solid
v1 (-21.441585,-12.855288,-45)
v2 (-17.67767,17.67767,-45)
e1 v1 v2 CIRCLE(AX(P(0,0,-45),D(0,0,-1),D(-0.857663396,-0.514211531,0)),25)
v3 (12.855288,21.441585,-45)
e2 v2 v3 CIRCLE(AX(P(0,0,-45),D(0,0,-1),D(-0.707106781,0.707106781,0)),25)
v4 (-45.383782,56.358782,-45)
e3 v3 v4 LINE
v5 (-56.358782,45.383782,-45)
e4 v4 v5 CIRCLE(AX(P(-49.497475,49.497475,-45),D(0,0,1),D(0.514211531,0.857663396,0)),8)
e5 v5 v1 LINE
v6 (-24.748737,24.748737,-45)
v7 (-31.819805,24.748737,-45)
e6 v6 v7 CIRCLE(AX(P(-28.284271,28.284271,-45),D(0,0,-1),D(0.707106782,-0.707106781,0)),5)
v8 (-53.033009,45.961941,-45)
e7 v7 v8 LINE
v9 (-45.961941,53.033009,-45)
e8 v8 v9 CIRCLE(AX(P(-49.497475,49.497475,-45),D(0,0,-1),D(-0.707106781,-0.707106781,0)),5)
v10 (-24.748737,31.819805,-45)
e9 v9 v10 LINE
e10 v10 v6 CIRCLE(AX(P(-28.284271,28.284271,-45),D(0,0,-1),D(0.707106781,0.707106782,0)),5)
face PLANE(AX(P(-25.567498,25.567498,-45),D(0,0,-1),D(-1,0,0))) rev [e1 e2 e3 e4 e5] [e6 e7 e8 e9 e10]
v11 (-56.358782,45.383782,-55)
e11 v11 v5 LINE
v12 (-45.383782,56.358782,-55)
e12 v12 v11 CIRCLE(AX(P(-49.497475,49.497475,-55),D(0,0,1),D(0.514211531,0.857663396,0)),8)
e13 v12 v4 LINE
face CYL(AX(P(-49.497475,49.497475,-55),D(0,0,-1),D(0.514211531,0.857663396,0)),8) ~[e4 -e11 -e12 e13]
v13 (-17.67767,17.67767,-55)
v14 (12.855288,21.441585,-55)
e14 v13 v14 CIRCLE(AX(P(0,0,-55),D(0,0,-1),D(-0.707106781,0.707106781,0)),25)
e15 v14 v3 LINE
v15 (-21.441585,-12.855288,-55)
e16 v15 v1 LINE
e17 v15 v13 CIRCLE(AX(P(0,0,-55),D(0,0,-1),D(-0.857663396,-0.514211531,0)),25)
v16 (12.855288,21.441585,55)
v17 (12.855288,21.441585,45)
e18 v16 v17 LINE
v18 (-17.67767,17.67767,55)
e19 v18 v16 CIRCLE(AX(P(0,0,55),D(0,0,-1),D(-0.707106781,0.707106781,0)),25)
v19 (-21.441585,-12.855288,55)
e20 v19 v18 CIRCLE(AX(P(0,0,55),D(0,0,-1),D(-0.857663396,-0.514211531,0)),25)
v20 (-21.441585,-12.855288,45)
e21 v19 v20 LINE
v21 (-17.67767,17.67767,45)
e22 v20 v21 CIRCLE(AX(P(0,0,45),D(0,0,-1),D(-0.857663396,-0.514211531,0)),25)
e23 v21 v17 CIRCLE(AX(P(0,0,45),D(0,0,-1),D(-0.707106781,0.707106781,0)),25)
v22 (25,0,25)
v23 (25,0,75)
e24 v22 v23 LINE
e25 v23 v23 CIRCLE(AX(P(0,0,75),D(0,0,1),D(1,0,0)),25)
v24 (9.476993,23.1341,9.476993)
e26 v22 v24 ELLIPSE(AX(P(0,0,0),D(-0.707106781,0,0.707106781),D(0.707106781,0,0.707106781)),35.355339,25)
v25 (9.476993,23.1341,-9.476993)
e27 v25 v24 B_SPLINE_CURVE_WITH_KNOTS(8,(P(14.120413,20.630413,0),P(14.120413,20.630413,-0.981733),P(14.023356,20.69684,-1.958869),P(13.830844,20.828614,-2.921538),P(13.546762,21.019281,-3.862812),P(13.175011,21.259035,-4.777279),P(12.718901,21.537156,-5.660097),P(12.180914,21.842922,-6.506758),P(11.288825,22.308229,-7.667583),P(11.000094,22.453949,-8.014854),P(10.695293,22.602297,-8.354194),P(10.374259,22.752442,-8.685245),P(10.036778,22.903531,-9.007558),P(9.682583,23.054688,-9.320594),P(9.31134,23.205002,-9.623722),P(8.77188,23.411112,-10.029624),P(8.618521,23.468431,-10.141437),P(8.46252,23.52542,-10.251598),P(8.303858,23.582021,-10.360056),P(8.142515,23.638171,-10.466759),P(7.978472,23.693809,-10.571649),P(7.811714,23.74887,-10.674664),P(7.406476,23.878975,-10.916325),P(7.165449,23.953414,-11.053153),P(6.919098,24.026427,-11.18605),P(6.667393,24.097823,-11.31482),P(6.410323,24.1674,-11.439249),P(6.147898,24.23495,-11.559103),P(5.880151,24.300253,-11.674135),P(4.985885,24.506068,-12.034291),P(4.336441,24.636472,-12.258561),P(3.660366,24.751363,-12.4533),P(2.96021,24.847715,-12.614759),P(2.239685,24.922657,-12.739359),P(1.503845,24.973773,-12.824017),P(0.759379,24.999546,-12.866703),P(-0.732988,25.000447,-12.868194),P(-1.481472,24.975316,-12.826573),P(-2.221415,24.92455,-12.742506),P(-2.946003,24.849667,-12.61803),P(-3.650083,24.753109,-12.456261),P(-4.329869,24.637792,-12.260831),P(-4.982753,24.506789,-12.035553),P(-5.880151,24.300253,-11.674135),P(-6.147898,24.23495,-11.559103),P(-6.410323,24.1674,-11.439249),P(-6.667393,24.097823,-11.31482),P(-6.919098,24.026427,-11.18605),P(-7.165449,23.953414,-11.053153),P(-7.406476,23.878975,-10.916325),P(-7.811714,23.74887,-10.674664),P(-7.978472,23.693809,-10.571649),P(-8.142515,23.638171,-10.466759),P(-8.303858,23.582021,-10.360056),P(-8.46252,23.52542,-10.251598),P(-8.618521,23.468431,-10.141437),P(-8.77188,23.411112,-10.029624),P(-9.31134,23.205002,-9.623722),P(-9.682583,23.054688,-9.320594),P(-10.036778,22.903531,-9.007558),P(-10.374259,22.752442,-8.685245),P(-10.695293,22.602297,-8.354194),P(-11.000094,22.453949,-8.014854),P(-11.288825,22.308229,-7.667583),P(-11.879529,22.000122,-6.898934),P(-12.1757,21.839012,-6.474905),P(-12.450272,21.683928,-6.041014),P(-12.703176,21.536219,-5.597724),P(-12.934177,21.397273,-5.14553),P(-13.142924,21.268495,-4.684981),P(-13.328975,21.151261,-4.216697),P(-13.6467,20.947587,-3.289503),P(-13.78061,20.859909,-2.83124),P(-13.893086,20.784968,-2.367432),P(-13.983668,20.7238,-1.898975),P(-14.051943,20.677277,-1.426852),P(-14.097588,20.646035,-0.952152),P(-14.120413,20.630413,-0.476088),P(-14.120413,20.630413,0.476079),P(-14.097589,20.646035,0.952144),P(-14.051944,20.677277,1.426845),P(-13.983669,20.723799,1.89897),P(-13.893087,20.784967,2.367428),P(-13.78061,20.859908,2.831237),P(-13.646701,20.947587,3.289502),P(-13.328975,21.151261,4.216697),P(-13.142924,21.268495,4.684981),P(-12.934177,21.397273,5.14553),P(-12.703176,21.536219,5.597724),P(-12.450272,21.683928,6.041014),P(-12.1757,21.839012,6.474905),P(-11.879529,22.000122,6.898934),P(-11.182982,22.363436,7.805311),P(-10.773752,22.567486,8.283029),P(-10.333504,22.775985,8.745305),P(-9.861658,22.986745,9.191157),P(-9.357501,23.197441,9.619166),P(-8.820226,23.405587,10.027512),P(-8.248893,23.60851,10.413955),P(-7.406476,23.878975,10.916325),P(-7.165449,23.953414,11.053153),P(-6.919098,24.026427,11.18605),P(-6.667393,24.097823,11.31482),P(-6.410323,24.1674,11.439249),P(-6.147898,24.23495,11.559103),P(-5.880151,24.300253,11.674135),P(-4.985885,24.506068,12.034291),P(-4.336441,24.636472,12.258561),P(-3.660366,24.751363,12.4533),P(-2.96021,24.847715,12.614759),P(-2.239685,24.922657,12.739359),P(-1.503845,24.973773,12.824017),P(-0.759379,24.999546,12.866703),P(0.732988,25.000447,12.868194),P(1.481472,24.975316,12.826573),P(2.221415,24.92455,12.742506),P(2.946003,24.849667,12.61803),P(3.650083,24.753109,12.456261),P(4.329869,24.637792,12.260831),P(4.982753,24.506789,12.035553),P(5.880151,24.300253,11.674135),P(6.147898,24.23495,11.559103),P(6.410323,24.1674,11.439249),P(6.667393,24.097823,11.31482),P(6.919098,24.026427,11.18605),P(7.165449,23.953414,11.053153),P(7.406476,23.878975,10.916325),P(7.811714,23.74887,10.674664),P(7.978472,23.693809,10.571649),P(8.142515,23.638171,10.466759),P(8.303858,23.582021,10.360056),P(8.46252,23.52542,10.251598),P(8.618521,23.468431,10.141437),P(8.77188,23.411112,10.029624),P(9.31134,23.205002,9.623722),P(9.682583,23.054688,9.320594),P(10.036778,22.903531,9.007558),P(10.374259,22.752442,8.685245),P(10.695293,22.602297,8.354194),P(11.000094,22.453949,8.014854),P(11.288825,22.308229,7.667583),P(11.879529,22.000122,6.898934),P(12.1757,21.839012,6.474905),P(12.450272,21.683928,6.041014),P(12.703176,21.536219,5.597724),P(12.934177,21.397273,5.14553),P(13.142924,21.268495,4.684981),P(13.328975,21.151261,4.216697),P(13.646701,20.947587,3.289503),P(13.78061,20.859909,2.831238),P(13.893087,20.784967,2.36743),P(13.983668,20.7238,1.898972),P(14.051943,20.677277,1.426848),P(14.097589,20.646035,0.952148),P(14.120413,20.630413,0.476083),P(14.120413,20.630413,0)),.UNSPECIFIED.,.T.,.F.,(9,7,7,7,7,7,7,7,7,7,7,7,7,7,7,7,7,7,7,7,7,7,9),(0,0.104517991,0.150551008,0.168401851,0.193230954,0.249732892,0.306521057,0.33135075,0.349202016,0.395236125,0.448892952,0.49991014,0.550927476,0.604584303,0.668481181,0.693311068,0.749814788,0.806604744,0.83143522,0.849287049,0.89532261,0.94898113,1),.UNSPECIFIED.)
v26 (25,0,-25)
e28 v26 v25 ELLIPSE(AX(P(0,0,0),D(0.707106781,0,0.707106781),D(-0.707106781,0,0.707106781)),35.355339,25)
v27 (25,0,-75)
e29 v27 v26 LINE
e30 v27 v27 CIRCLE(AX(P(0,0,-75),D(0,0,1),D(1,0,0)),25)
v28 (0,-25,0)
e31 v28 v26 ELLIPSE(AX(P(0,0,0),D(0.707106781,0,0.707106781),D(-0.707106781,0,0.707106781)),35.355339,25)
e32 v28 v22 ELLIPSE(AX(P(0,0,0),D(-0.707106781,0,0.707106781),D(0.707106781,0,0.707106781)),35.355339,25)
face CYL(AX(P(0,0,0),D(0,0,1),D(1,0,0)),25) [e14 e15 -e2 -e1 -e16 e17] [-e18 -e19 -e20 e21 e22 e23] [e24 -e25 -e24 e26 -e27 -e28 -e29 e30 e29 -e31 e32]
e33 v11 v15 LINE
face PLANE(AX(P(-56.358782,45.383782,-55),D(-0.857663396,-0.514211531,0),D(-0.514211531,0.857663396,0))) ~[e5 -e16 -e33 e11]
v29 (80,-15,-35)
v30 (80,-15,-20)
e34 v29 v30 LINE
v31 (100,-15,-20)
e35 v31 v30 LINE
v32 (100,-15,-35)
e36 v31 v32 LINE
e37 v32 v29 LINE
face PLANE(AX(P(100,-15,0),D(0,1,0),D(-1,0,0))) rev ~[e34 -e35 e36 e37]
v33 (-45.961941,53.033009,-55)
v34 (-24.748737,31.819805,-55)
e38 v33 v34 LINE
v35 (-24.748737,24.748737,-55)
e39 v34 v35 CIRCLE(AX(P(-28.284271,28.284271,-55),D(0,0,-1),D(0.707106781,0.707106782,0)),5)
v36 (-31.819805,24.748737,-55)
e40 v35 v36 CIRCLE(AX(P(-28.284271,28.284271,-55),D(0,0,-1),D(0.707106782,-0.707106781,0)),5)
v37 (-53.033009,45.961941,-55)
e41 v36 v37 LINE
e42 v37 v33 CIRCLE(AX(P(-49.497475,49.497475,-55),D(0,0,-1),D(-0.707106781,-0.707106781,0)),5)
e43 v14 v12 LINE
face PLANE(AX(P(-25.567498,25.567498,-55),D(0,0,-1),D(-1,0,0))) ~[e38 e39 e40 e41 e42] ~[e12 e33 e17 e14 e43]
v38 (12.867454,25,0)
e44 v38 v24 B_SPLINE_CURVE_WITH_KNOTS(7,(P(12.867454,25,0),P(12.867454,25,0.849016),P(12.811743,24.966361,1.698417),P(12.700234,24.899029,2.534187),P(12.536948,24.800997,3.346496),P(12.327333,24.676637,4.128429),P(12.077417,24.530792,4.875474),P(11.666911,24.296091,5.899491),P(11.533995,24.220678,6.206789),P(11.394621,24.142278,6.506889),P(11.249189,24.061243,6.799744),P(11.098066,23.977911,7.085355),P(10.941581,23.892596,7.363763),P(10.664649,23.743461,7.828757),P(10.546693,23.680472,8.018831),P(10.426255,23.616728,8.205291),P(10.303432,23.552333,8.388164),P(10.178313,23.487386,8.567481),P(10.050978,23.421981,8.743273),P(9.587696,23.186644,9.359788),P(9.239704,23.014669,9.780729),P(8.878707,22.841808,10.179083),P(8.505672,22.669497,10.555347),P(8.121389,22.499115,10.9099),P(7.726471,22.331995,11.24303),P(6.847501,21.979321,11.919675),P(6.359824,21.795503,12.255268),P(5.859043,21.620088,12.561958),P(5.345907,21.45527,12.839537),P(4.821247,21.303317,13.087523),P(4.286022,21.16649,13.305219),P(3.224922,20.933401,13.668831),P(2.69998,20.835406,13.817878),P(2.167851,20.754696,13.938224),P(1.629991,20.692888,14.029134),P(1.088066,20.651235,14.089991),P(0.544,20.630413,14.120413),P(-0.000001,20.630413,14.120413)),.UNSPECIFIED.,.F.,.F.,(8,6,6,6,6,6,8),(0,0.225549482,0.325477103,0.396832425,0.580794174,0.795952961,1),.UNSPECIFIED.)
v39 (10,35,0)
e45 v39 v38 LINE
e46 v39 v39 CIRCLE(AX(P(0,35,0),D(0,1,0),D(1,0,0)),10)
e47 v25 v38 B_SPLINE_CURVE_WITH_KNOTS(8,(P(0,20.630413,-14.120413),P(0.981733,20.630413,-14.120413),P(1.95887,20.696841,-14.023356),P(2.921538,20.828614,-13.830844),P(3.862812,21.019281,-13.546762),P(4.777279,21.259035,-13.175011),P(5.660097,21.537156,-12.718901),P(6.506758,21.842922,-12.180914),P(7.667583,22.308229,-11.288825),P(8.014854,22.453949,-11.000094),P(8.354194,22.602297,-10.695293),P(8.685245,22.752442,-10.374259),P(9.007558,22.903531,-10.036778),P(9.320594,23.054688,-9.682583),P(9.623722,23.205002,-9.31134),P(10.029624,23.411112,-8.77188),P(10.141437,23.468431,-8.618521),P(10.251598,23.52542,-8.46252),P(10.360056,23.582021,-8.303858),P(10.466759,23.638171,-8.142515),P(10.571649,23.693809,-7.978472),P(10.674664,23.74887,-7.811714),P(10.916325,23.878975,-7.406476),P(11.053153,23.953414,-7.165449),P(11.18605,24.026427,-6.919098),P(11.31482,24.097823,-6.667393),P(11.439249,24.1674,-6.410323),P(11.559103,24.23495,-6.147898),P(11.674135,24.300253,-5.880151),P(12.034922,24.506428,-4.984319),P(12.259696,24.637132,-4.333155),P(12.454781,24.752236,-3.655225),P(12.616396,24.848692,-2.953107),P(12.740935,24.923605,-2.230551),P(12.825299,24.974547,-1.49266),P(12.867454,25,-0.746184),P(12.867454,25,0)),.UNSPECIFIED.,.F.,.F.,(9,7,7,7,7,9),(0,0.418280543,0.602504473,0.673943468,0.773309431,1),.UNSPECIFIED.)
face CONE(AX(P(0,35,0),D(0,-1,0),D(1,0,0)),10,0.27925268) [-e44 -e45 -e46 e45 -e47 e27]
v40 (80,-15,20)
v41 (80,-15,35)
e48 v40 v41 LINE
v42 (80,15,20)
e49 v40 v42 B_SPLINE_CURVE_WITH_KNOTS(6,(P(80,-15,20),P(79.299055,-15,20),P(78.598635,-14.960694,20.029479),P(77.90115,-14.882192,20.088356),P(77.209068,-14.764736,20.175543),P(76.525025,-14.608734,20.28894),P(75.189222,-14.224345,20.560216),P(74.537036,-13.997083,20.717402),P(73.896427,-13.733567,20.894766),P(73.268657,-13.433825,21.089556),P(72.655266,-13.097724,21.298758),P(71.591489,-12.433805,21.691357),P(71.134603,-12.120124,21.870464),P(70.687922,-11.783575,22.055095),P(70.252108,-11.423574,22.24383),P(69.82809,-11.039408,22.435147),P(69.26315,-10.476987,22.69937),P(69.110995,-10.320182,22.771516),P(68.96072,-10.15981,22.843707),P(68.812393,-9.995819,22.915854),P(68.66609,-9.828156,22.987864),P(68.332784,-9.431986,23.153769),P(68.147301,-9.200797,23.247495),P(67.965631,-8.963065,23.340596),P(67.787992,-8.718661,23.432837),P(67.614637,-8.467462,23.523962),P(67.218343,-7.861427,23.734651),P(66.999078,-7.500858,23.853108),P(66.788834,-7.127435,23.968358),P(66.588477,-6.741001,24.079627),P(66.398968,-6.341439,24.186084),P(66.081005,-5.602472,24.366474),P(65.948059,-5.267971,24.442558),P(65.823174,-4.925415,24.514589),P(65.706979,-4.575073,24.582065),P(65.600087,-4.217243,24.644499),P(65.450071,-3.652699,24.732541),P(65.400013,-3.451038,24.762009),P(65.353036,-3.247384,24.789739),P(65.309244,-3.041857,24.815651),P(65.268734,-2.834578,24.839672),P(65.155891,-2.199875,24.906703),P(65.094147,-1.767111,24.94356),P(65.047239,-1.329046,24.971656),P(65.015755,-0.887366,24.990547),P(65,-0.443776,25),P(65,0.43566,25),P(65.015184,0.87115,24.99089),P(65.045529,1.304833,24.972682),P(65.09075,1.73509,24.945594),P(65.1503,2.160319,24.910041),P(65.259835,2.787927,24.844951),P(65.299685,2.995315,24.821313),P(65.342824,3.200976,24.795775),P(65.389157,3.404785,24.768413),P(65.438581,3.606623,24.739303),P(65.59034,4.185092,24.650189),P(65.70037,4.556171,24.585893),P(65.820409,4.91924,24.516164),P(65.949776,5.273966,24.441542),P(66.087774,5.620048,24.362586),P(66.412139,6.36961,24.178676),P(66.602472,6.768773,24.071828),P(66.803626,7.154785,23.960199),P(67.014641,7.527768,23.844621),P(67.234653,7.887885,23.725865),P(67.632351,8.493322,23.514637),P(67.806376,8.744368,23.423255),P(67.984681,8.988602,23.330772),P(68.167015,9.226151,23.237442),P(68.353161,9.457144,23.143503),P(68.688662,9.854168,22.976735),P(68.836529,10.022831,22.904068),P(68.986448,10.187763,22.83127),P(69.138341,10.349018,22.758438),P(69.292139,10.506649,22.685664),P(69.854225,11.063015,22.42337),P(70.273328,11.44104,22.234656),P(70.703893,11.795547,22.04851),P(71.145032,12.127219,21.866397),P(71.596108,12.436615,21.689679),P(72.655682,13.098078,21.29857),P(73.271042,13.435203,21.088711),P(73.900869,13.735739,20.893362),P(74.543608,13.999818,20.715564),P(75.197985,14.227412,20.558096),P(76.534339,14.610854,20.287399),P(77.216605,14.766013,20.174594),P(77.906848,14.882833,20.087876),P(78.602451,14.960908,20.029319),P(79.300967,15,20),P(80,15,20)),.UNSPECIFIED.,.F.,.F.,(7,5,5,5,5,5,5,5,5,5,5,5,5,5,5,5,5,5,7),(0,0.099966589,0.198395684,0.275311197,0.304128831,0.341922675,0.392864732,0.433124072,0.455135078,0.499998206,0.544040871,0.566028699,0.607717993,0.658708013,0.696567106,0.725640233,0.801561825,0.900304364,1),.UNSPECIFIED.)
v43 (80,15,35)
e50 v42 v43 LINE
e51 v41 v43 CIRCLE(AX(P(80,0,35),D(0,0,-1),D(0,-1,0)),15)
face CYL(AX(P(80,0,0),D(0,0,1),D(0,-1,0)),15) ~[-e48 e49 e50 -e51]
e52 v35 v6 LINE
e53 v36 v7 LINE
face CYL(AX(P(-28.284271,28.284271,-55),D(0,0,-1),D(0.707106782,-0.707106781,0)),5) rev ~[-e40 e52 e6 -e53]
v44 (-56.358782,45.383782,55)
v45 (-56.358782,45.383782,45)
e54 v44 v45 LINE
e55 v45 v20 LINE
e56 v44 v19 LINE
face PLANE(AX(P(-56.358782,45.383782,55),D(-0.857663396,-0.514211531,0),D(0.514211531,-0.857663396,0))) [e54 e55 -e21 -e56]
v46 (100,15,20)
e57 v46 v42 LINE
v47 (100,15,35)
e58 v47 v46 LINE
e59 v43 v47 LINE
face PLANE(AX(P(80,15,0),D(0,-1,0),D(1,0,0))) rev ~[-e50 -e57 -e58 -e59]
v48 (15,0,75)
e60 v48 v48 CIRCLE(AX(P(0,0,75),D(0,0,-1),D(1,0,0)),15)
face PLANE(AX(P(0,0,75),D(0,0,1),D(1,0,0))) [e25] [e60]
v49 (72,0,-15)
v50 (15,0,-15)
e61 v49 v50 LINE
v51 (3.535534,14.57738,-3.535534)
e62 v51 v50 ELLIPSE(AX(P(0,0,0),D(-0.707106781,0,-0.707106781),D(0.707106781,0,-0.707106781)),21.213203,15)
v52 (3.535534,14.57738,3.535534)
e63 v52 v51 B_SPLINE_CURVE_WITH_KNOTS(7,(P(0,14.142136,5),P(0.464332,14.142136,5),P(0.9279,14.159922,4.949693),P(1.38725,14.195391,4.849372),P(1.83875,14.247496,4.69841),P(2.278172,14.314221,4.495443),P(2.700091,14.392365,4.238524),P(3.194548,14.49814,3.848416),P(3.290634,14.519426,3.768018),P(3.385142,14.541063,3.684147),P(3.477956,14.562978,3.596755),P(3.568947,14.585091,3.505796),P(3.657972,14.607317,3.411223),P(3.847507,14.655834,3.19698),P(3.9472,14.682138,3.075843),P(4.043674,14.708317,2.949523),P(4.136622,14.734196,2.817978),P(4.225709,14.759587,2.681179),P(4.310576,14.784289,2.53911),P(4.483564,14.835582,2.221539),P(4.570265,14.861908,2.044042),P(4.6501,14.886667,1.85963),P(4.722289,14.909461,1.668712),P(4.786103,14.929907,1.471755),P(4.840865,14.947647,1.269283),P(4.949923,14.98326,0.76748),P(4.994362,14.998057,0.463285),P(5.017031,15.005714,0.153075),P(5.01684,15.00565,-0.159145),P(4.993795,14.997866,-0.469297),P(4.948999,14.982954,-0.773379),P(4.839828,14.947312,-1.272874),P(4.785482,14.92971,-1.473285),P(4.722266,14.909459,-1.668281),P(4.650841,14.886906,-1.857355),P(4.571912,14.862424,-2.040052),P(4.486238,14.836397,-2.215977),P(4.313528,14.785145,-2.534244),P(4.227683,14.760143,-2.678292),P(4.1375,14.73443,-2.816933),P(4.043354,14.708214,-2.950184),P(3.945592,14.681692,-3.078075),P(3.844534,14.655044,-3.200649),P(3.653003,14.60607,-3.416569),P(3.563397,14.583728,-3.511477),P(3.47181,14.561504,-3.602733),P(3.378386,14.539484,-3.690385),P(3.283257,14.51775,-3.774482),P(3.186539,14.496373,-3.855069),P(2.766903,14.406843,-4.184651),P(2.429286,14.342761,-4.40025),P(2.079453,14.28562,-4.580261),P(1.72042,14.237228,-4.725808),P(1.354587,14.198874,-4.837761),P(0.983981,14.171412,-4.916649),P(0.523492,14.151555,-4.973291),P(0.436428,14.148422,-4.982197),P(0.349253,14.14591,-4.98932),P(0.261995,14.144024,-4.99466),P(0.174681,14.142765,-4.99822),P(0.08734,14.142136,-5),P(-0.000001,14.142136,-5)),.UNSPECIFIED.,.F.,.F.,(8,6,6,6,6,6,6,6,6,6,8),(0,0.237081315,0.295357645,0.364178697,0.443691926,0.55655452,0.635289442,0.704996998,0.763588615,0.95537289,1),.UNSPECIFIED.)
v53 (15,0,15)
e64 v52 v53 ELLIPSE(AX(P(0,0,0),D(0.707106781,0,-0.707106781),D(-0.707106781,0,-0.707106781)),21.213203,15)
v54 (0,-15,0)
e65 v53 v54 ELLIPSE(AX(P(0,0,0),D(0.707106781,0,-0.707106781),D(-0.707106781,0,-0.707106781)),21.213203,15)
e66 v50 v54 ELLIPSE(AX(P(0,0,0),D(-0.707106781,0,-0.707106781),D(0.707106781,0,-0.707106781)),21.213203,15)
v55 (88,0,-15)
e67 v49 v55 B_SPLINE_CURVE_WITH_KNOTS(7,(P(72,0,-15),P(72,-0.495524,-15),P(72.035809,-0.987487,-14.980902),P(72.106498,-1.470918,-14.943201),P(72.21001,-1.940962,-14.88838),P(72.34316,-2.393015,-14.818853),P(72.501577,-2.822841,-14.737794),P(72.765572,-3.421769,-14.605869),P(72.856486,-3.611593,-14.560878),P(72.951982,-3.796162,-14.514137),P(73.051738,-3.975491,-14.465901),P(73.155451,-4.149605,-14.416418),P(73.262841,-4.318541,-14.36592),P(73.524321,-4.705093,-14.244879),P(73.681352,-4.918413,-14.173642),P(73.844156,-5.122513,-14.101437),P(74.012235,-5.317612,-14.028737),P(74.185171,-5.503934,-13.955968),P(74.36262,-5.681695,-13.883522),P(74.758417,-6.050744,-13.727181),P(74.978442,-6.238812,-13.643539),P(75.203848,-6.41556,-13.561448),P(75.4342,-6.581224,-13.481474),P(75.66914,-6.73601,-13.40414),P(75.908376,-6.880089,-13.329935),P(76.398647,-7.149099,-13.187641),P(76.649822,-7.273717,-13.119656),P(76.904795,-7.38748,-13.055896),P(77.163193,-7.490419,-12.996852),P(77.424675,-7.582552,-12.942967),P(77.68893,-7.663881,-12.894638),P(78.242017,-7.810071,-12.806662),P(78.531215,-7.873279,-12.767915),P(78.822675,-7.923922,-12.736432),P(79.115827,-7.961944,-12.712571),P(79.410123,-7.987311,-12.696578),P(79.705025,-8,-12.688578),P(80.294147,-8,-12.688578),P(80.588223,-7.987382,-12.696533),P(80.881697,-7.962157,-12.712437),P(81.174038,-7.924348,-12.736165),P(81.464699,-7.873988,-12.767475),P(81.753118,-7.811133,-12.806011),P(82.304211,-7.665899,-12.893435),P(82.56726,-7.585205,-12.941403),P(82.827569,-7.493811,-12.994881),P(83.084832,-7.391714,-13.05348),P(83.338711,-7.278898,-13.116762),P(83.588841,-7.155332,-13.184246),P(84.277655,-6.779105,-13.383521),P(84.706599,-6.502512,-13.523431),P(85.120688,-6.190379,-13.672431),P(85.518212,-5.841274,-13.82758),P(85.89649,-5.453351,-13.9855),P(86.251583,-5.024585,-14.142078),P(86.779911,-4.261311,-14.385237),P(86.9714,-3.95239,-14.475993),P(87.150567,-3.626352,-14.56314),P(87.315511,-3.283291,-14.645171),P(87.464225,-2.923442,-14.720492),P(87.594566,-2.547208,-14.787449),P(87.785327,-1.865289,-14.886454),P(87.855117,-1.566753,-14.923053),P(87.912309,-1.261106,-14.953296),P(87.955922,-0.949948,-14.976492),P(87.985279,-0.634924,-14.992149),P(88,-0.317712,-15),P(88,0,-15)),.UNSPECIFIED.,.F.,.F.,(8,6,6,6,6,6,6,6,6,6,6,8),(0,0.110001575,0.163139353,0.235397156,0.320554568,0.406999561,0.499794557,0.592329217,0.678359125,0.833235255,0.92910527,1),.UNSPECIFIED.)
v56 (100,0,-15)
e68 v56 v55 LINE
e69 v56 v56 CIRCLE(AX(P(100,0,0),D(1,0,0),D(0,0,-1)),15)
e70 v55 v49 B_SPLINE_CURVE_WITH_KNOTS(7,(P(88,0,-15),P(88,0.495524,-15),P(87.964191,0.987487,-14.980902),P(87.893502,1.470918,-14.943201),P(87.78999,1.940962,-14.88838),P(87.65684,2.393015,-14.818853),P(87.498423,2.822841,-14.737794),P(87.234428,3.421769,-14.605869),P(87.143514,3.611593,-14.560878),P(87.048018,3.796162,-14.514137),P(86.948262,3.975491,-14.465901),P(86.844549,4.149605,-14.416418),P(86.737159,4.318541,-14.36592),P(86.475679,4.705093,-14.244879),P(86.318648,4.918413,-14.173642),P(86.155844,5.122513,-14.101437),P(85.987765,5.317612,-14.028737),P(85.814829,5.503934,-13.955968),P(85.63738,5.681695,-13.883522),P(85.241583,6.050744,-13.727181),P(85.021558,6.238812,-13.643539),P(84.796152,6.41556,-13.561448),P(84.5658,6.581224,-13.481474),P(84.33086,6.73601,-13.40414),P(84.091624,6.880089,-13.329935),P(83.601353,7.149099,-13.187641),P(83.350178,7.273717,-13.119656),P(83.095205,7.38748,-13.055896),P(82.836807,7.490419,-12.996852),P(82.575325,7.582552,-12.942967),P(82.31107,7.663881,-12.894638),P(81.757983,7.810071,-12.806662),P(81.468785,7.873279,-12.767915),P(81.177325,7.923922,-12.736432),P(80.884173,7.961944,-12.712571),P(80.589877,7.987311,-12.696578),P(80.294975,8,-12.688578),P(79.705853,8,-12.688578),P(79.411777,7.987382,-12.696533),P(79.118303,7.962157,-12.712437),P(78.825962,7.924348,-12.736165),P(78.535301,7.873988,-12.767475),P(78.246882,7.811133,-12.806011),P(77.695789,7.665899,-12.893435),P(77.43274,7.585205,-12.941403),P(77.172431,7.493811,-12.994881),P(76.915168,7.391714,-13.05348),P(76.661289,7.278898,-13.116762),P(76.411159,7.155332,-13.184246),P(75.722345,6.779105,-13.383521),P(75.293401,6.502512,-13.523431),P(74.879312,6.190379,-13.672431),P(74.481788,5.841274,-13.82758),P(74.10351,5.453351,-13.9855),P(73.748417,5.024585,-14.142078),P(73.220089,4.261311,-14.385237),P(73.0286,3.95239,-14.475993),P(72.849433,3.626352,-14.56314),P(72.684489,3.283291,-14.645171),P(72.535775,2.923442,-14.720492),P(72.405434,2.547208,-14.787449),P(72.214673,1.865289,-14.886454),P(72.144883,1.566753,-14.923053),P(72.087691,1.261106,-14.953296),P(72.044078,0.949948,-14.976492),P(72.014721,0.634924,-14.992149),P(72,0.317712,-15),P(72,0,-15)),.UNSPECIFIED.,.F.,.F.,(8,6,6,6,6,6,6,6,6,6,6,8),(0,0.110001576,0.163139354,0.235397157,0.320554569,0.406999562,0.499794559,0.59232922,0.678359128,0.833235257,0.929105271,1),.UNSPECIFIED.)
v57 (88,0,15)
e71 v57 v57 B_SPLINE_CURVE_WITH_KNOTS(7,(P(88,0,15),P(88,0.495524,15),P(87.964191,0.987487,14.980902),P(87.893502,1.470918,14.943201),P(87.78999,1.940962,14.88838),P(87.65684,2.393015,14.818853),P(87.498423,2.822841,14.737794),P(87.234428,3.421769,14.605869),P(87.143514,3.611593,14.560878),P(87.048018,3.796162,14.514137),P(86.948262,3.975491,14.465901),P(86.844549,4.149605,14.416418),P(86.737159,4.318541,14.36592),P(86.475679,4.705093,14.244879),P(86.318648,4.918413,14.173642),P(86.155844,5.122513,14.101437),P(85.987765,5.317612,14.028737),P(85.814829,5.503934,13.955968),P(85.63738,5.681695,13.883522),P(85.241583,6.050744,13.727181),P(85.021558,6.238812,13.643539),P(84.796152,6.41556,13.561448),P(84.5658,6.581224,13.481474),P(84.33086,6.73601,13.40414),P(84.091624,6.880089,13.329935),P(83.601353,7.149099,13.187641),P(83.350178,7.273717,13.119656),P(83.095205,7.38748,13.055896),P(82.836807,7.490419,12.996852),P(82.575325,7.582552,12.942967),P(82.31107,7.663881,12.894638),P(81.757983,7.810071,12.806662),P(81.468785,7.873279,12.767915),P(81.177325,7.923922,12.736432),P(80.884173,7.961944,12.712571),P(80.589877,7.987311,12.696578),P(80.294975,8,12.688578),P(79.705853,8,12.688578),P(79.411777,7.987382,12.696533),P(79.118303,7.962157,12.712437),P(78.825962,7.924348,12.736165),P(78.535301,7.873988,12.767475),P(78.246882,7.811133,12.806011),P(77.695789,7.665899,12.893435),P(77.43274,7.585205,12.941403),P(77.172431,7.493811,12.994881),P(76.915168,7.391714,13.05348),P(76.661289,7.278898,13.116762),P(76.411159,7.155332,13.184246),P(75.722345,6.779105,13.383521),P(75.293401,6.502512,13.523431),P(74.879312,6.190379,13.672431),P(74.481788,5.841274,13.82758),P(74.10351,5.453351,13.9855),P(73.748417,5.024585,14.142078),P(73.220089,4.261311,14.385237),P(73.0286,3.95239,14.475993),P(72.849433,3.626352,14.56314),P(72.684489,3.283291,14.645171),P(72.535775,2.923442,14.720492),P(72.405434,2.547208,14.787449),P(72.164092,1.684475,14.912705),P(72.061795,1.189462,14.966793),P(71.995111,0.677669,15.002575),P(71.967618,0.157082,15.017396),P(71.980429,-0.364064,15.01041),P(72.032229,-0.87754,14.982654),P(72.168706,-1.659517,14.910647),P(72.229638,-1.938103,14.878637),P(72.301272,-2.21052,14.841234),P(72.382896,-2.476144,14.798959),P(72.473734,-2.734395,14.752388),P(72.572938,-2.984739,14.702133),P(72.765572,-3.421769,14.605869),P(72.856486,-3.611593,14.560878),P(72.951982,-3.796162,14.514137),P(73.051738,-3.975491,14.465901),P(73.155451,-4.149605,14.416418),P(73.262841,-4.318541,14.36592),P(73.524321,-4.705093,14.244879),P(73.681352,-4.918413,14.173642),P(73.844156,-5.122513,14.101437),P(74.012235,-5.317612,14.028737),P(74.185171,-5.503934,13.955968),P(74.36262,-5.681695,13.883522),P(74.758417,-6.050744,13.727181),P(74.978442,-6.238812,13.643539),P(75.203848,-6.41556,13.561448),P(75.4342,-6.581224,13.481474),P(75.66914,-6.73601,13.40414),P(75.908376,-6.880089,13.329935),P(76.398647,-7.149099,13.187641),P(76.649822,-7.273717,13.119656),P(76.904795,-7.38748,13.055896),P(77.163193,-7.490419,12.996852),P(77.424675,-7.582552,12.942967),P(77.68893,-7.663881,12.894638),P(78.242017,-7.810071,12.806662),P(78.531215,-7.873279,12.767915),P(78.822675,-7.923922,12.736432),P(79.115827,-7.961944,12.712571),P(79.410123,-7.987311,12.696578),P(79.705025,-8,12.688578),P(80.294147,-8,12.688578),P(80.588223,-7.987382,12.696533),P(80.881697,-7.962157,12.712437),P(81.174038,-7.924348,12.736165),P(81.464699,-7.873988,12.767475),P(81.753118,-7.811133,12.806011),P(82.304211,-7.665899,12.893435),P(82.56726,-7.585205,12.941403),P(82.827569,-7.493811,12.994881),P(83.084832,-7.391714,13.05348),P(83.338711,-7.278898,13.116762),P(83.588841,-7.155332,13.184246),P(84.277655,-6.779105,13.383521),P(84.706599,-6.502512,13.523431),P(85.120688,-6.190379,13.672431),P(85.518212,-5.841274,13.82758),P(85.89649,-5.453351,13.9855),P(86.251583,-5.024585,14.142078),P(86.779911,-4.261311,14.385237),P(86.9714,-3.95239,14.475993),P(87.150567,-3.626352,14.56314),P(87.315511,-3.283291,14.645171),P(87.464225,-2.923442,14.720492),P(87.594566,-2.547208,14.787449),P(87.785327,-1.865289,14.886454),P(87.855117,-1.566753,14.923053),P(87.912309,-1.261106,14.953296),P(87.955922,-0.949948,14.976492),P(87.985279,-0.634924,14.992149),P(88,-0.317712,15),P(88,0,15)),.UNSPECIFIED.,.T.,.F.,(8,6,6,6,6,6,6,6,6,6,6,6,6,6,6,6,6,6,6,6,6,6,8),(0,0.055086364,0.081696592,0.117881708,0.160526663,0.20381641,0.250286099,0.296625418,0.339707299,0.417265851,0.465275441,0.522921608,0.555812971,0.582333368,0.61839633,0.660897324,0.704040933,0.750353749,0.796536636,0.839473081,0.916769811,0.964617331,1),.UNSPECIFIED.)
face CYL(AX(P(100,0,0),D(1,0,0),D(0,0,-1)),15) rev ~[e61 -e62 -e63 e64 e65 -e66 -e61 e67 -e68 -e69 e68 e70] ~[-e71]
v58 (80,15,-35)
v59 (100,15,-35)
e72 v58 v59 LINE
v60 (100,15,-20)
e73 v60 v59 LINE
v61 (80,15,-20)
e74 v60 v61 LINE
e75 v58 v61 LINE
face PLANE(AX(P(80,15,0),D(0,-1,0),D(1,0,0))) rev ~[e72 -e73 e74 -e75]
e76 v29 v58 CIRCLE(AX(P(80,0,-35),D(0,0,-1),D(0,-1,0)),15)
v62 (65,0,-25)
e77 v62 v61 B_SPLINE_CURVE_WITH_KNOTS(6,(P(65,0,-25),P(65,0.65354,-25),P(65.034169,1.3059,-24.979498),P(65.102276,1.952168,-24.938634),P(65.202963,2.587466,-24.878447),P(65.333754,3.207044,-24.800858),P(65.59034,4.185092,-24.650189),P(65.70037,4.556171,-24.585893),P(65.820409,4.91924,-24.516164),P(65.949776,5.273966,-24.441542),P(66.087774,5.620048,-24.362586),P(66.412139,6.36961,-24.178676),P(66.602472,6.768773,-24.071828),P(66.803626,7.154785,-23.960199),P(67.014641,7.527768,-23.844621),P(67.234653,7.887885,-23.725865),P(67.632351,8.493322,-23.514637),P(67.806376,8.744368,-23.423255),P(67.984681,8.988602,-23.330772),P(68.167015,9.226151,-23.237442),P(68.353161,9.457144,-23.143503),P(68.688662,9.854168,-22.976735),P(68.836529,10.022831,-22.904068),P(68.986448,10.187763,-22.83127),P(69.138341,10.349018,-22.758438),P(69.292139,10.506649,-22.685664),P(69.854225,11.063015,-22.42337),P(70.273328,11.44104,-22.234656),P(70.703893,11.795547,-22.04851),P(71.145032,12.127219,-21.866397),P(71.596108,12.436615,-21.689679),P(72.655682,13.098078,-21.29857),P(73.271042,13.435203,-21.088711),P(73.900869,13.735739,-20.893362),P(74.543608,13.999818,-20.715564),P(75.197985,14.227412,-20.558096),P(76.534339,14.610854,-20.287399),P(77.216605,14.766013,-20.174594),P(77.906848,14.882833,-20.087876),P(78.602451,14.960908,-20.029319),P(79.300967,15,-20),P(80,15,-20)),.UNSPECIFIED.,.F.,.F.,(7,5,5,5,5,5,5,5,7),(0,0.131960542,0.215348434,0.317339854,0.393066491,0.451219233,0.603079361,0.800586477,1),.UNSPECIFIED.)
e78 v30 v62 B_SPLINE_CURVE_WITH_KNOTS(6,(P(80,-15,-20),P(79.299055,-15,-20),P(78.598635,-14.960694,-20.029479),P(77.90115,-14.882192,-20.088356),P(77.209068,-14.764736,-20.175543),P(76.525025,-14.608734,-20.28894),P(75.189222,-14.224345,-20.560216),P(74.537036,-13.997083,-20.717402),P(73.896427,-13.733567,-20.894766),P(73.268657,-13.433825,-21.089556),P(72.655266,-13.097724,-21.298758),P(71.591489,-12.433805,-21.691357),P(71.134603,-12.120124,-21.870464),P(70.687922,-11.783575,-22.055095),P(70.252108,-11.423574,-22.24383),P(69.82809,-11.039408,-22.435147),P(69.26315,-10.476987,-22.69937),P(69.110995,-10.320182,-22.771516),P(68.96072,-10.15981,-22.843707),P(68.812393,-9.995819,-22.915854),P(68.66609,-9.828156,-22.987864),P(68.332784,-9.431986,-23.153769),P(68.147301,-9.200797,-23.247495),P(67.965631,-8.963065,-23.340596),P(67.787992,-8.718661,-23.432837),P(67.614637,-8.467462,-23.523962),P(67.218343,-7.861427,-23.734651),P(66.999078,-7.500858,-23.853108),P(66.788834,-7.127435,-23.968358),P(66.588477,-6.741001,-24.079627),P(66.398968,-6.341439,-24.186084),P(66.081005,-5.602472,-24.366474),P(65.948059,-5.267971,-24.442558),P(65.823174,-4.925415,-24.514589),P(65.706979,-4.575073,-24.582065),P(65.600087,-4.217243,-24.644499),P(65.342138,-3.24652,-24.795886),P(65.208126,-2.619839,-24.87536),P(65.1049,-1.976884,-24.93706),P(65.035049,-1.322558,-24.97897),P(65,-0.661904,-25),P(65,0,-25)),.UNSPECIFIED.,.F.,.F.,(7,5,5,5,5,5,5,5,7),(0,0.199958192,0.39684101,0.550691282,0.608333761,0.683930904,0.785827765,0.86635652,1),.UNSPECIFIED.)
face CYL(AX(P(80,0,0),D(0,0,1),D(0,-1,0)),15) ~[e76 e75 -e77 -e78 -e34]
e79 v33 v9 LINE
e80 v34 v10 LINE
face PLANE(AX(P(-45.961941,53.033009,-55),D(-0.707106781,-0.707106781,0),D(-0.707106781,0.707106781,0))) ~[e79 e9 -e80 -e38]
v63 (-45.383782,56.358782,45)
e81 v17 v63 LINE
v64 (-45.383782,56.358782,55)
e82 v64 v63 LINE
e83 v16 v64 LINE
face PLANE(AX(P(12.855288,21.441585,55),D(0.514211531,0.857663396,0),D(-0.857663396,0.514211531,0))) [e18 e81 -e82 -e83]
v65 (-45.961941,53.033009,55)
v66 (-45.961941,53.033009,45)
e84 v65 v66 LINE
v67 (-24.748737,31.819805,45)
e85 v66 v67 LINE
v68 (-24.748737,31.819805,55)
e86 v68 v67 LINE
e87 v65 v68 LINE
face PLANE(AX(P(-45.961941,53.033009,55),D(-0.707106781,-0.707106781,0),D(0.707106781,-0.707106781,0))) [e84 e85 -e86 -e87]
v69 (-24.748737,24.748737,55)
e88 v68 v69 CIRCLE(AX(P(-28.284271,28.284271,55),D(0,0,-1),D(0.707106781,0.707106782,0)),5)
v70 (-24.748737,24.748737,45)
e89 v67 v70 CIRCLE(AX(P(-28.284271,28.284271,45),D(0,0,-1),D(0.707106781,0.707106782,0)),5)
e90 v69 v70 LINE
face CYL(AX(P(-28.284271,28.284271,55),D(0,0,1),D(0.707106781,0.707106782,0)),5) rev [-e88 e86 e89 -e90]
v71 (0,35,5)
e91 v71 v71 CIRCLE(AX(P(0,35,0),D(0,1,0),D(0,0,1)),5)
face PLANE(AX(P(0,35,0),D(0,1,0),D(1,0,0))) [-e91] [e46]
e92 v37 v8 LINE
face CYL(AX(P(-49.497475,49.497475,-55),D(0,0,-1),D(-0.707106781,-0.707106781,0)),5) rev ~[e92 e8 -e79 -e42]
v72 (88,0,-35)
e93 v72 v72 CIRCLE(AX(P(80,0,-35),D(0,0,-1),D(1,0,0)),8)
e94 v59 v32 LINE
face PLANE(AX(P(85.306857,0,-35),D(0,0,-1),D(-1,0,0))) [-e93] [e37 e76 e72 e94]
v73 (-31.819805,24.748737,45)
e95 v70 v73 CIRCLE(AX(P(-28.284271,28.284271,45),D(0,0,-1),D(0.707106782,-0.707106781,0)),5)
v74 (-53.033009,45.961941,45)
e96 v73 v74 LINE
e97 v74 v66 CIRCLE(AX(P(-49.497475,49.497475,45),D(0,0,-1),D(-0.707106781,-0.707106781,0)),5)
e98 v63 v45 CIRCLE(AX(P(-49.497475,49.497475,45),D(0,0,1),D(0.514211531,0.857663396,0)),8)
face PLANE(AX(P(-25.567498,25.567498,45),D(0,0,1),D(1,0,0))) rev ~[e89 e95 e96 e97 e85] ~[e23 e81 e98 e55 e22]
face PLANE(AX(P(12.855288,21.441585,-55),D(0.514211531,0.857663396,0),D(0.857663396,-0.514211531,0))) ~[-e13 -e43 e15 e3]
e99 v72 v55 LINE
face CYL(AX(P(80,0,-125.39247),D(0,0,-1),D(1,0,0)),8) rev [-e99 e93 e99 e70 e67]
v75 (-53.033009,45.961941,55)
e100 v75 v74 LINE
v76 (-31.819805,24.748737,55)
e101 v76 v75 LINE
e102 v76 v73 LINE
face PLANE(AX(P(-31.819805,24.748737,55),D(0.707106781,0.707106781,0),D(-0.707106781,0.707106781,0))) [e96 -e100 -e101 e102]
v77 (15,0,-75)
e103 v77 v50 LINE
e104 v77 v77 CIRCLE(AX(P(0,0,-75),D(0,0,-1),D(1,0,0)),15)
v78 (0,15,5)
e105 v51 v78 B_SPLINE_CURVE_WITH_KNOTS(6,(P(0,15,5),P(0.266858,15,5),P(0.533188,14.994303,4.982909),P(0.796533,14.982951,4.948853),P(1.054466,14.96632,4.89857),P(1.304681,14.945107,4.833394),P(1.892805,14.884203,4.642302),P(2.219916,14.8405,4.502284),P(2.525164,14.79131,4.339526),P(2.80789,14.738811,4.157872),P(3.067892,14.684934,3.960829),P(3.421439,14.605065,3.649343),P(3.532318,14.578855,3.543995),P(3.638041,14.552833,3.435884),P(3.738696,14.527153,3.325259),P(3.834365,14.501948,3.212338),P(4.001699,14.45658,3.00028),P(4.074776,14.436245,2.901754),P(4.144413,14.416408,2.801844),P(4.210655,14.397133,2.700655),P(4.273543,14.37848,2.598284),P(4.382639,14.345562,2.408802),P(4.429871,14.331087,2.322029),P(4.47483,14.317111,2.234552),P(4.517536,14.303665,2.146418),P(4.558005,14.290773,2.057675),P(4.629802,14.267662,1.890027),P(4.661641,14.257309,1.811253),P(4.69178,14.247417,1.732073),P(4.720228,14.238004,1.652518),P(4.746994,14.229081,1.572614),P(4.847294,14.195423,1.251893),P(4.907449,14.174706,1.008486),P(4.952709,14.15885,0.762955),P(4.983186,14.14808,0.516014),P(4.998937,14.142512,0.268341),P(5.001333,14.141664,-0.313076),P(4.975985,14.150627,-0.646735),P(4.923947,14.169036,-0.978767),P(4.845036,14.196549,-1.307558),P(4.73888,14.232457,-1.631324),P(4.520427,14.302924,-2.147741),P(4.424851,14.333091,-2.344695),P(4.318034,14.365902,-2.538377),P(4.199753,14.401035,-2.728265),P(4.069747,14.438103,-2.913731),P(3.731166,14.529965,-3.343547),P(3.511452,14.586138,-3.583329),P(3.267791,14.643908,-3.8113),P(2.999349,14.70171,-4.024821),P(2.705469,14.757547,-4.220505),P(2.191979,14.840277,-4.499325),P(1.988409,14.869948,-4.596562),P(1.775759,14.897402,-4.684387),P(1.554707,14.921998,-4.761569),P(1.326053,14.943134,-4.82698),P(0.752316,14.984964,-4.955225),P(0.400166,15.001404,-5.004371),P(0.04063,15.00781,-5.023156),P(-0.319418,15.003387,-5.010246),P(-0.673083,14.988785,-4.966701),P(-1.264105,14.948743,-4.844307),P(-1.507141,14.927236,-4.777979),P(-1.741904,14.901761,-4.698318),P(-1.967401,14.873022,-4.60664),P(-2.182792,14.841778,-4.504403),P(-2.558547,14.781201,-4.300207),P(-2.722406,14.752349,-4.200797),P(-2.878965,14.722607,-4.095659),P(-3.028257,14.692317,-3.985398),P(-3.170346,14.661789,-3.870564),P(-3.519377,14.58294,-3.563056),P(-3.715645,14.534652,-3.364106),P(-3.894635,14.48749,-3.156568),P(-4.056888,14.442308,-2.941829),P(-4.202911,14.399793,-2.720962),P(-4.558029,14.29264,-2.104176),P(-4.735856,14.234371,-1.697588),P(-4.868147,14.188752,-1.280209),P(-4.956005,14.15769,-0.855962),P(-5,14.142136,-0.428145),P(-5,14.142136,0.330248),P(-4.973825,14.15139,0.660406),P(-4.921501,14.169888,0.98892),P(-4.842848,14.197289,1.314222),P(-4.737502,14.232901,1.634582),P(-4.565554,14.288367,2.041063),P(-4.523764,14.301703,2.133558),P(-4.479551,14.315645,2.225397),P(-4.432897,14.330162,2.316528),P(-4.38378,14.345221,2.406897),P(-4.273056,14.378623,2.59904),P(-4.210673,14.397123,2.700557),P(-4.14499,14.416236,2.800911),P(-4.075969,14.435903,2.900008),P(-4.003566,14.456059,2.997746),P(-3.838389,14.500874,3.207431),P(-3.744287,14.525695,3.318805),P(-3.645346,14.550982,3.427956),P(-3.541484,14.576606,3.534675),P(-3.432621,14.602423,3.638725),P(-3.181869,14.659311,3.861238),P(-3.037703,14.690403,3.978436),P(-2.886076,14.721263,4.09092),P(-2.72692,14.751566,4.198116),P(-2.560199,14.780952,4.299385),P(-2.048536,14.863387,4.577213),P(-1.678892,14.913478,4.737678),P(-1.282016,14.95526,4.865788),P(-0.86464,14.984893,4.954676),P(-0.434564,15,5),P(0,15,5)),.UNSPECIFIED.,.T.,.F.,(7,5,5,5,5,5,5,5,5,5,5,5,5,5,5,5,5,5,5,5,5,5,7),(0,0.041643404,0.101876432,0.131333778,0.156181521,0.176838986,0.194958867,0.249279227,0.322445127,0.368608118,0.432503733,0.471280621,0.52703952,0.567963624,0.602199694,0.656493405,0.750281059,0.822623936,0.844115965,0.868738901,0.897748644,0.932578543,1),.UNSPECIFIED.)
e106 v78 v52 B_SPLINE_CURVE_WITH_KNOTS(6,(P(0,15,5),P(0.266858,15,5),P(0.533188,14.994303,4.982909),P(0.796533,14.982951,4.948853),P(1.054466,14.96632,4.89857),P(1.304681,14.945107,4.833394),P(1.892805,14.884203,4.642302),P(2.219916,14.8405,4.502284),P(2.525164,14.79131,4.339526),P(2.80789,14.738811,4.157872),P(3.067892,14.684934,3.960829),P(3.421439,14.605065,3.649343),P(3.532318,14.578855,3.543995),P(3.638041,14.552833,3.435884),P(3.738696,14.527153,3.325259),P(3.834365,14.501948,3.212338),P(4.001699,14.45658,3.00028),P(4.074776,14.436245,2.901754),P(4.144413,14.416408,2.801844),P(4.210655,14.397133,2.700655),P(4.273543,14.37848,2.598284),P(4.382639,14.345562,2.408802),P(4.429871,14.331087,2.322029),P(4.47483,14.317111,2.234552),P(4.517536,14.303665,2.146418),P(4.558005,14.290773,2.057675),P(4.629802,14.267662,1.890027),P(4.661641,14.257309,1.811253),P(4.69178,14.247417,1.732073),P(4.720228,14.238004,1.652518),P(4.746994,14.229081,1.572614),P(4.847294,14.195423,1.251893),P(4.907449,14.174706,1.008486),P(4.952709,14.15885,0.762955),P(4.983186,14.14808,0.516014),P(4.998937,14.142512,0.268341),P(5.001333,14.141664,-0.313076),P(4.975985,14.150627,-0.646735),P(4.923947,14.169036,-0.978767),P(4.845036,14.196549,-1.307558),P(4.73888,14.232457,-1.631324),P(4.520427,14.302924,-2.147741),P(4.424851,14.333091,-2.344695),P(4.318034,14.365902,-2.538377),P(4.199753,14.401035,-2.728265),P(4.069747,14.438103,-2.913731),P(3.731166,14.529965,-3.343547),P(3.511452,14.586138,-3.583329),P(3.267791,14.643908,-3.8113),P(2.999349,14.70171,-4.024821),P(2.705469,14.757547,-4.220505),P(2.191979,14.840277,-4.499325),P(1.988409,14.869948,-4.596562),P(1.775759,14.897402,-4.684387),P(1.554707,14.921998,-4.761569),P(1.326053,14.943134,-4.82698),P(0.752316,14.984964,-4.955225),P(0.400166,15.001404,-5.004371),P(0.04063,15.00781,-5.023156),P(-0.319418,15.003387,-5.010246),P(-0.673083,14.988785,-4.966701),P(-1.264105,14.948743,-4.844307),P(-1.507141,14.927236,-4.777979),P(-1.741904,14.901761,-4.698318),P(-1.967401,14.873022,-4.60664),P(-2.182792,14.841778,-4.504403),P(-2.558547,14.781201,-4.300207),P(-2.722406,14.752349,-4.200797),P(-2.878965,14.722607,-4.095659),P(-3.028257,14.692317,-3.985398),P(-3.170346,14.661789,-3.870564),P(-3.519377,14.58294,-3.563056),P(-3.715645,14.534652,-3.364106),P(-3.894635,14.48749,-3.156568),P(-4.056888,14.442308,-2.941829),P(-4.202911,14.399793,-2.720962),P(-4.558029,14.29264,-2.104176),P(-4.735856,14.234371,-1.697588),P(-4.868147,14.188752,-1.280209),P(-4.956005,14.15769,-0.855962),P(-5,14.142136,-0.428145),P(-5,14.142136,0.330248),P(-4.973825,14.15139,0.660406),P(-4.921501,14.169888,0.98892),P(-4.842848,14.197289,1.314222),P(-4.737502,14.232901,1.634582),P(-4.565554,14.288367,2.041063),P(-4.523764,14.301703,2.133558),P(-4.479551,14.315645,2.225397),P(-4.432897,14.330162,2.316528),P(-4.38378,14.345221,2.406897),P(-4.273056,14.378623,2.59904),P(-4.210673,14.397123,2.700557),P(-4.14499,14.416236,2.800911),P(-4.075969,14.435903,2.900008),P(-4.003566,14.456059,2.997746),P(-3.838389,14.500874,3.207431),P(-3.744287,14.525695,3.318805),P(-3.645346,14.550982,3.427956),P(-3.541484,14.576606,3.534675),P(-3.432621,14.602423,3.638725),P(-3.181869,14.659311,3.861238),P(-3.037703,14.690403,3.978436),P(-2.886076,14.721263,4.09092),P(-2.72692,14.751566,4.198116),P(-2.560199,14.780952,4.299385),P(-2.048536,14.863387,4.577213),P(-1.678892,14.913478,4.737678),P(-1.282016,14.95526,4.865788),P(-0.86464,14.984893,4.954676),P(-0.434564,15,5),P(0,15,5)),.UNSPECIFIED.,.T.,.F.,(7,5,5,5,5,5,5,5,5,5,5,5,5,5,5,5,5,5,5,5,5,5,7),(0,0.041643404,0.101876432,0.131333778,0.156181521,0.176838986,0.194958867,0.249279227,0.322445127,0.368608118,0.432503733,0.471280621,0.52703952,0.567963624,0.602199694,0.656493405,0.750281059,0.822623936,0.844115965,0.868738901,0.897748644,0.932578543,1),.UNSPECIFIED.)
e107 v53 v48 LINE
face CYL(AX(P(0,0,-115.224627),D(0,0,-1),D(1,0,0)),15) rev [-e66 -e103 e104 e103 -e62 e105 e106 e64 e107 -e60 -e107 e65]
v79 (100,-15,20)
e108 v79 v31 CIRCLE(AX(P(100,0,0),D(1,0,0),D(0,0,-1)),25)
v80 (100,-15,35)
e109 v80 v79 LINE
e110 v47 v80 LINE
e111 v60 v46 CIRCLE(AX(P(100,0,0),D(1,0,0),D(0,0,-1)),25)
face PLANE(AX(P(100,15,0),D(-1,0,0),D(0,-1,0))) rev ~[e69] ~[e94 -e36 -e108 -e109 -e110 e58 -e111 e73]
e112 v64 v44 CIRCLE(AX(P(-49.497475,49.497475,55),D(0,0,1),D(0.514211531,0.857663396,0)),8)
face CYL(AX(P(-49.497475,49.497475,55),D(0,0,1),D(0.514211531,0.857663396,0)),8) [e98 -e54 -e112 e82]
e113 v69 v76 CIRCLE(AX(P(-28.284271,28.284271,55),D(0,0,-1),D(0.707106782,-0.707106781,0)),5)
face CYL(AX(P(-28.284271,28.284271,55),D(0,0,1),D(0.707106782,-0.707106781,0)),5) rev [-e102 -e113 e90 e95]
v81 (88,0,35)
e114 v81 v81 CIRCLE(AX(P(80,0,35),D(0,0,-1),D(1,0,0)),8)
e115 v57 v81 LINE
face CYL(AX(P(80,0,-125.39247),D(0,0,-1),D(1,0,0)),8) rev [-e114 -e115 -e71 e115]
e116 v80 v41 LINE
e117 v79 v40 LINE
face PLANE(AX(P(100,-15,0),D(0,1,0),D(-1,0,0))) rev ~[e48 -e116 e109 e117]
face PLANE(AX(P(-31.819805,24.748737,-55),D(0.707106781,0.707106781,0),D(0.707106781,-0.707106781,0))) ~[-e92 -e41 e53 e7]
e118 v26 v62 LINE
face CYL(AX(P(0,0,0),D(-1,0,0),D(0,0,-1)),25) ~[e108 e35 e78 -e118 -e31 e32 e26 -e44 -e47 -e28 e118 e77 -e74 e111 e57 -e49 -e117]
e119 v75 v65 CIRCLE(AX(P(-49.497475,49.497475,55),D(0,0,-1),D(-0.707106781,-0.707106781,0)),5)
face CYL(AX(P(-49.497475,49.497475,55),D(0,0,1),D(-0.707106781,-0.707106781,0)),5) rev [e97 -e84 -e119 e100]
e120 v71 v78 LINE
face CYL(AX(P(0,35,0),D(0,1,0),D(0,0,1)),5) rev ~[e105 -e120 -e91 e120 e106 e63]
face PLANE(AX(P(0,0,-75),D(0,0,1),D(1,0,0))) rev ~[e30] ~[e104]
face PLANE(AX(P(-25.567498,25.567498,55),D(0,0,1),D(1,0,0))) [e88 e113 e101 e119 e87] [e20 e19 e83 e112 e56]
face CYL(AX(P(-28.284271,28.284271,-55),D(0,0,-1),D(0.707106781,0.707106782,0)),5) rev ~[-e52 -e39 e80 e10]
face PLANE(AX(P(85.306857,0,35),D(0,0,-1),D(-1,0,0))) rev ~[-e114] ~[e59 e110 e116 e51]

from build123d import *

# Parameters (mm, degrees)
SKETCH1_R               = 25
BOSS_EXTRUDE1_DEPTH     = 75
BOSS_EXTRUDE2_START     = 35
SKETCH3_R               = 10
BOSS_EXTRUDE2_DEPTH     = 35
BOSS_EXTRUDE2_DRAFT     = 16
SKETCH4_R               = 25
BOSS_EXTRUDE3_DEPTH     = 100
BOSS_EXTRUDE4_DEPTH     = 35
BOSS_EXTRUDE5_START     = 10
BOSS_EXTRUDE5_DEPTH     = 10
CUT_EXTRUDE2_DEPTH      = 190.22462748
CUT_EXTRUDE2_DEPTH_BACK = 190.22462748
SKETCH2_R               = 15
SKETCH7_R               = 15
CUT_EXTRUDE3_DEPTH      = 100
CUT_EXTRUDE4_DEPTH      = 160.392470452
CUT_EXTRUDE4_DEPTH_BACK = 160.392470452
SKETCH8_R               = 8
SKETCH9_R               = 5
CUT_EXTRUDE5_DEPTH      = 30


with BuildPart() as part:
    # Sketch1 → Boss-Extrude1 (new, symmetric)
    with BuildSketch(Plane.XY):
        Circle(SKETCH1_R)
    extrude(amount=BOSS_EXTRUDE1_DEPTH, both=True)


with BuildPart() as boss_extrude2_tool:
    # Sketch3 → Boss-Extrude2 (with draft: the straight prism first)
    with BuildSketch(Plane(origin=(0, 0, 0), x_dir=(1, 0, 0), z_dir=(0, 1, 0)).offset(BOSS_EXTRUDE2_START)):
        Circle(SKETCH3_R)
    extrude(amount=-BOSS_EXTRUDE2_DEPTH)
    # Boss-Extrude2: the draft: its side faces are tilted about the plane it starts from
    boss_extrude2_sides = [boss_extrude2_tool.faces().sort_by_distance(p)[0] for p in [
        (-10, 17.5, 0),
    ]]
    draft(boss_extrude2_sides, Plane(origin=(0, 0, 0), x_dir=(1, 0, 0), z_dir=(0, 1, 0)).offset(BOSS_EXTRUDE2_START), BOSS_EXTRUDE2_DRAFT)


with BuildPart() as part_1:
    add(part.part)

    # Boss-Extrude2: add boss_extrude2_tool
    add(boss_extrude2_tool.part)

    # Sketch4 → Boss-Extrude3 (add)
    with BuildSketch(Plane(origin=(0, 0, 0), x_dir=(0, 0, -1), z_dir=(1, 0, 0))):
        Circle(SKETCH4_R)
    extrude(amount=BOSS_EXTRUDE3_DEPTH)

    # Sketch5 → Boss-Extrude4 (add, symmetric)
    with BuildSketch(Plane.XY):
        with BuildLine():
            Line((80, 15), (100, 15))
            Line((100, 15), (100, -15))
            Line((100, -15), (80, -15))
            ThreePointArc((80, -15), (65, 0), (80, 15))
        make_face()
    extrude(amount=BOSS_EXTRUDE4_DEPTH, both=True)

    # Sketch6 → Boss-Extrude5 (add)
    with BuildSketch(Plane.XY.offset(45).offset(BOSS_EXTRUDE5_START)):
        with BuildLine():
            ThreePointArc((-45.383782434, 56.358781853), (-55.154328933, 55.154328933), (-56.358781853, 45.383782434))
            Line((-56.358781853, 45.383782434), (-21.441584906, -12.855288278))
            ThreePointArc((-21.441584906, -12.855288278), (-24.812182391, 3.058693344), (-17.67766953, 17.67766953))
            ThreePointArc((-17.67766953, 17.67766953), (-3.058693344, 24.812182391), (12.855288278, 21.441584906))
            Line((12.855288278, 21.441584906), (-45.383782434, 56.358781853))
        make_face()
        with BuildLine():
            ThreePointArc((-24.748737342, 31.819805153), (-23.284271247, 28.284271247), (-24.748737342, 24.748737342))
            ThreePointArc((-24.748737342, 24.748737342), (-28.284271247, 23.284271247), (-31.819805153, 24.748737342))
            Line((-31.819805153, 24.748737342), (-53.033008589, 45.961940777))
            ThreePointArc((-53.033008589, 45.961940777), (-53.033008589, 53.033008589), (-45.961940777, 53.033008589))
            Line((-45.961940777, 53.033008589), (-24.748737342, 31.819805153))
        make_face(mode=Mode.SUBTRACT)
    boss_extrude5 = extrude(amount=-BOSS_EXTRUDE5_DEPTH)

    # Mirror1: Boss-Extrude5 across plane
    add(boss_extrude5.mirror(Plane.XY))

    # Sketch2 → Cut-Extrude2 (cut, two sides: drawn at the far end of the back side and taken through both)
    with BuildSketch(Plane.XY.offset(75).offset(-CUT_EXTRUDE2_DEPTH_BACK)):
        Circle(SKETCH2_R)
    extrude(amount=CUT_EXTRUDE2_DEPTH + CUT_EXTRUDE2_DEPTH_BACK, mode=Mode.SUBTRACT)

    # Sketch7 → Cut-Extrude3 (cut)
    with BuildSketch(Plane(origin=(100, 0, 0), x_dir=(0, 0, -1), z_dir=(1, 0, 0))):
        Circle(SKETCH7_R)
    extrude(amount=-CUT_EXTRUDE3_DEPTH, mode=Mode.SUBTRACT)

    # Sketch8 → Cut-Extrude4 (cut, two sides: drawn at the far end of the back side and taken through both)
    with BuildSketch(Plane.XY.offset(35).offset(-CUT_EXTRUDE4_DEPTH_BACK)):
        with Locations((80, 0)):
            Circle(SKETCH8_R)
    extrude(amount=CUT_EXTRUDE4_DEPTH + CUT_EXTRUDE4_DEPTH_BACK, mode=Mode.SUBTRACT)

    # Sketch9 → Cut-Extrude5 (cut)
    with BuildSketch(Plane(origin=(0, 35, 0), x_dir=(1, 0, 0), z_dir=(0, 1, 0))):
        with Locations(Location((0, 0, 0), (0, 0, 270))):
            Circle(SKETCH9_R)
    extrude(amount=-CUT_EXTRUDE5_DEPTH, mode=Mode.SUBTRACT)


solid = part_1.part
